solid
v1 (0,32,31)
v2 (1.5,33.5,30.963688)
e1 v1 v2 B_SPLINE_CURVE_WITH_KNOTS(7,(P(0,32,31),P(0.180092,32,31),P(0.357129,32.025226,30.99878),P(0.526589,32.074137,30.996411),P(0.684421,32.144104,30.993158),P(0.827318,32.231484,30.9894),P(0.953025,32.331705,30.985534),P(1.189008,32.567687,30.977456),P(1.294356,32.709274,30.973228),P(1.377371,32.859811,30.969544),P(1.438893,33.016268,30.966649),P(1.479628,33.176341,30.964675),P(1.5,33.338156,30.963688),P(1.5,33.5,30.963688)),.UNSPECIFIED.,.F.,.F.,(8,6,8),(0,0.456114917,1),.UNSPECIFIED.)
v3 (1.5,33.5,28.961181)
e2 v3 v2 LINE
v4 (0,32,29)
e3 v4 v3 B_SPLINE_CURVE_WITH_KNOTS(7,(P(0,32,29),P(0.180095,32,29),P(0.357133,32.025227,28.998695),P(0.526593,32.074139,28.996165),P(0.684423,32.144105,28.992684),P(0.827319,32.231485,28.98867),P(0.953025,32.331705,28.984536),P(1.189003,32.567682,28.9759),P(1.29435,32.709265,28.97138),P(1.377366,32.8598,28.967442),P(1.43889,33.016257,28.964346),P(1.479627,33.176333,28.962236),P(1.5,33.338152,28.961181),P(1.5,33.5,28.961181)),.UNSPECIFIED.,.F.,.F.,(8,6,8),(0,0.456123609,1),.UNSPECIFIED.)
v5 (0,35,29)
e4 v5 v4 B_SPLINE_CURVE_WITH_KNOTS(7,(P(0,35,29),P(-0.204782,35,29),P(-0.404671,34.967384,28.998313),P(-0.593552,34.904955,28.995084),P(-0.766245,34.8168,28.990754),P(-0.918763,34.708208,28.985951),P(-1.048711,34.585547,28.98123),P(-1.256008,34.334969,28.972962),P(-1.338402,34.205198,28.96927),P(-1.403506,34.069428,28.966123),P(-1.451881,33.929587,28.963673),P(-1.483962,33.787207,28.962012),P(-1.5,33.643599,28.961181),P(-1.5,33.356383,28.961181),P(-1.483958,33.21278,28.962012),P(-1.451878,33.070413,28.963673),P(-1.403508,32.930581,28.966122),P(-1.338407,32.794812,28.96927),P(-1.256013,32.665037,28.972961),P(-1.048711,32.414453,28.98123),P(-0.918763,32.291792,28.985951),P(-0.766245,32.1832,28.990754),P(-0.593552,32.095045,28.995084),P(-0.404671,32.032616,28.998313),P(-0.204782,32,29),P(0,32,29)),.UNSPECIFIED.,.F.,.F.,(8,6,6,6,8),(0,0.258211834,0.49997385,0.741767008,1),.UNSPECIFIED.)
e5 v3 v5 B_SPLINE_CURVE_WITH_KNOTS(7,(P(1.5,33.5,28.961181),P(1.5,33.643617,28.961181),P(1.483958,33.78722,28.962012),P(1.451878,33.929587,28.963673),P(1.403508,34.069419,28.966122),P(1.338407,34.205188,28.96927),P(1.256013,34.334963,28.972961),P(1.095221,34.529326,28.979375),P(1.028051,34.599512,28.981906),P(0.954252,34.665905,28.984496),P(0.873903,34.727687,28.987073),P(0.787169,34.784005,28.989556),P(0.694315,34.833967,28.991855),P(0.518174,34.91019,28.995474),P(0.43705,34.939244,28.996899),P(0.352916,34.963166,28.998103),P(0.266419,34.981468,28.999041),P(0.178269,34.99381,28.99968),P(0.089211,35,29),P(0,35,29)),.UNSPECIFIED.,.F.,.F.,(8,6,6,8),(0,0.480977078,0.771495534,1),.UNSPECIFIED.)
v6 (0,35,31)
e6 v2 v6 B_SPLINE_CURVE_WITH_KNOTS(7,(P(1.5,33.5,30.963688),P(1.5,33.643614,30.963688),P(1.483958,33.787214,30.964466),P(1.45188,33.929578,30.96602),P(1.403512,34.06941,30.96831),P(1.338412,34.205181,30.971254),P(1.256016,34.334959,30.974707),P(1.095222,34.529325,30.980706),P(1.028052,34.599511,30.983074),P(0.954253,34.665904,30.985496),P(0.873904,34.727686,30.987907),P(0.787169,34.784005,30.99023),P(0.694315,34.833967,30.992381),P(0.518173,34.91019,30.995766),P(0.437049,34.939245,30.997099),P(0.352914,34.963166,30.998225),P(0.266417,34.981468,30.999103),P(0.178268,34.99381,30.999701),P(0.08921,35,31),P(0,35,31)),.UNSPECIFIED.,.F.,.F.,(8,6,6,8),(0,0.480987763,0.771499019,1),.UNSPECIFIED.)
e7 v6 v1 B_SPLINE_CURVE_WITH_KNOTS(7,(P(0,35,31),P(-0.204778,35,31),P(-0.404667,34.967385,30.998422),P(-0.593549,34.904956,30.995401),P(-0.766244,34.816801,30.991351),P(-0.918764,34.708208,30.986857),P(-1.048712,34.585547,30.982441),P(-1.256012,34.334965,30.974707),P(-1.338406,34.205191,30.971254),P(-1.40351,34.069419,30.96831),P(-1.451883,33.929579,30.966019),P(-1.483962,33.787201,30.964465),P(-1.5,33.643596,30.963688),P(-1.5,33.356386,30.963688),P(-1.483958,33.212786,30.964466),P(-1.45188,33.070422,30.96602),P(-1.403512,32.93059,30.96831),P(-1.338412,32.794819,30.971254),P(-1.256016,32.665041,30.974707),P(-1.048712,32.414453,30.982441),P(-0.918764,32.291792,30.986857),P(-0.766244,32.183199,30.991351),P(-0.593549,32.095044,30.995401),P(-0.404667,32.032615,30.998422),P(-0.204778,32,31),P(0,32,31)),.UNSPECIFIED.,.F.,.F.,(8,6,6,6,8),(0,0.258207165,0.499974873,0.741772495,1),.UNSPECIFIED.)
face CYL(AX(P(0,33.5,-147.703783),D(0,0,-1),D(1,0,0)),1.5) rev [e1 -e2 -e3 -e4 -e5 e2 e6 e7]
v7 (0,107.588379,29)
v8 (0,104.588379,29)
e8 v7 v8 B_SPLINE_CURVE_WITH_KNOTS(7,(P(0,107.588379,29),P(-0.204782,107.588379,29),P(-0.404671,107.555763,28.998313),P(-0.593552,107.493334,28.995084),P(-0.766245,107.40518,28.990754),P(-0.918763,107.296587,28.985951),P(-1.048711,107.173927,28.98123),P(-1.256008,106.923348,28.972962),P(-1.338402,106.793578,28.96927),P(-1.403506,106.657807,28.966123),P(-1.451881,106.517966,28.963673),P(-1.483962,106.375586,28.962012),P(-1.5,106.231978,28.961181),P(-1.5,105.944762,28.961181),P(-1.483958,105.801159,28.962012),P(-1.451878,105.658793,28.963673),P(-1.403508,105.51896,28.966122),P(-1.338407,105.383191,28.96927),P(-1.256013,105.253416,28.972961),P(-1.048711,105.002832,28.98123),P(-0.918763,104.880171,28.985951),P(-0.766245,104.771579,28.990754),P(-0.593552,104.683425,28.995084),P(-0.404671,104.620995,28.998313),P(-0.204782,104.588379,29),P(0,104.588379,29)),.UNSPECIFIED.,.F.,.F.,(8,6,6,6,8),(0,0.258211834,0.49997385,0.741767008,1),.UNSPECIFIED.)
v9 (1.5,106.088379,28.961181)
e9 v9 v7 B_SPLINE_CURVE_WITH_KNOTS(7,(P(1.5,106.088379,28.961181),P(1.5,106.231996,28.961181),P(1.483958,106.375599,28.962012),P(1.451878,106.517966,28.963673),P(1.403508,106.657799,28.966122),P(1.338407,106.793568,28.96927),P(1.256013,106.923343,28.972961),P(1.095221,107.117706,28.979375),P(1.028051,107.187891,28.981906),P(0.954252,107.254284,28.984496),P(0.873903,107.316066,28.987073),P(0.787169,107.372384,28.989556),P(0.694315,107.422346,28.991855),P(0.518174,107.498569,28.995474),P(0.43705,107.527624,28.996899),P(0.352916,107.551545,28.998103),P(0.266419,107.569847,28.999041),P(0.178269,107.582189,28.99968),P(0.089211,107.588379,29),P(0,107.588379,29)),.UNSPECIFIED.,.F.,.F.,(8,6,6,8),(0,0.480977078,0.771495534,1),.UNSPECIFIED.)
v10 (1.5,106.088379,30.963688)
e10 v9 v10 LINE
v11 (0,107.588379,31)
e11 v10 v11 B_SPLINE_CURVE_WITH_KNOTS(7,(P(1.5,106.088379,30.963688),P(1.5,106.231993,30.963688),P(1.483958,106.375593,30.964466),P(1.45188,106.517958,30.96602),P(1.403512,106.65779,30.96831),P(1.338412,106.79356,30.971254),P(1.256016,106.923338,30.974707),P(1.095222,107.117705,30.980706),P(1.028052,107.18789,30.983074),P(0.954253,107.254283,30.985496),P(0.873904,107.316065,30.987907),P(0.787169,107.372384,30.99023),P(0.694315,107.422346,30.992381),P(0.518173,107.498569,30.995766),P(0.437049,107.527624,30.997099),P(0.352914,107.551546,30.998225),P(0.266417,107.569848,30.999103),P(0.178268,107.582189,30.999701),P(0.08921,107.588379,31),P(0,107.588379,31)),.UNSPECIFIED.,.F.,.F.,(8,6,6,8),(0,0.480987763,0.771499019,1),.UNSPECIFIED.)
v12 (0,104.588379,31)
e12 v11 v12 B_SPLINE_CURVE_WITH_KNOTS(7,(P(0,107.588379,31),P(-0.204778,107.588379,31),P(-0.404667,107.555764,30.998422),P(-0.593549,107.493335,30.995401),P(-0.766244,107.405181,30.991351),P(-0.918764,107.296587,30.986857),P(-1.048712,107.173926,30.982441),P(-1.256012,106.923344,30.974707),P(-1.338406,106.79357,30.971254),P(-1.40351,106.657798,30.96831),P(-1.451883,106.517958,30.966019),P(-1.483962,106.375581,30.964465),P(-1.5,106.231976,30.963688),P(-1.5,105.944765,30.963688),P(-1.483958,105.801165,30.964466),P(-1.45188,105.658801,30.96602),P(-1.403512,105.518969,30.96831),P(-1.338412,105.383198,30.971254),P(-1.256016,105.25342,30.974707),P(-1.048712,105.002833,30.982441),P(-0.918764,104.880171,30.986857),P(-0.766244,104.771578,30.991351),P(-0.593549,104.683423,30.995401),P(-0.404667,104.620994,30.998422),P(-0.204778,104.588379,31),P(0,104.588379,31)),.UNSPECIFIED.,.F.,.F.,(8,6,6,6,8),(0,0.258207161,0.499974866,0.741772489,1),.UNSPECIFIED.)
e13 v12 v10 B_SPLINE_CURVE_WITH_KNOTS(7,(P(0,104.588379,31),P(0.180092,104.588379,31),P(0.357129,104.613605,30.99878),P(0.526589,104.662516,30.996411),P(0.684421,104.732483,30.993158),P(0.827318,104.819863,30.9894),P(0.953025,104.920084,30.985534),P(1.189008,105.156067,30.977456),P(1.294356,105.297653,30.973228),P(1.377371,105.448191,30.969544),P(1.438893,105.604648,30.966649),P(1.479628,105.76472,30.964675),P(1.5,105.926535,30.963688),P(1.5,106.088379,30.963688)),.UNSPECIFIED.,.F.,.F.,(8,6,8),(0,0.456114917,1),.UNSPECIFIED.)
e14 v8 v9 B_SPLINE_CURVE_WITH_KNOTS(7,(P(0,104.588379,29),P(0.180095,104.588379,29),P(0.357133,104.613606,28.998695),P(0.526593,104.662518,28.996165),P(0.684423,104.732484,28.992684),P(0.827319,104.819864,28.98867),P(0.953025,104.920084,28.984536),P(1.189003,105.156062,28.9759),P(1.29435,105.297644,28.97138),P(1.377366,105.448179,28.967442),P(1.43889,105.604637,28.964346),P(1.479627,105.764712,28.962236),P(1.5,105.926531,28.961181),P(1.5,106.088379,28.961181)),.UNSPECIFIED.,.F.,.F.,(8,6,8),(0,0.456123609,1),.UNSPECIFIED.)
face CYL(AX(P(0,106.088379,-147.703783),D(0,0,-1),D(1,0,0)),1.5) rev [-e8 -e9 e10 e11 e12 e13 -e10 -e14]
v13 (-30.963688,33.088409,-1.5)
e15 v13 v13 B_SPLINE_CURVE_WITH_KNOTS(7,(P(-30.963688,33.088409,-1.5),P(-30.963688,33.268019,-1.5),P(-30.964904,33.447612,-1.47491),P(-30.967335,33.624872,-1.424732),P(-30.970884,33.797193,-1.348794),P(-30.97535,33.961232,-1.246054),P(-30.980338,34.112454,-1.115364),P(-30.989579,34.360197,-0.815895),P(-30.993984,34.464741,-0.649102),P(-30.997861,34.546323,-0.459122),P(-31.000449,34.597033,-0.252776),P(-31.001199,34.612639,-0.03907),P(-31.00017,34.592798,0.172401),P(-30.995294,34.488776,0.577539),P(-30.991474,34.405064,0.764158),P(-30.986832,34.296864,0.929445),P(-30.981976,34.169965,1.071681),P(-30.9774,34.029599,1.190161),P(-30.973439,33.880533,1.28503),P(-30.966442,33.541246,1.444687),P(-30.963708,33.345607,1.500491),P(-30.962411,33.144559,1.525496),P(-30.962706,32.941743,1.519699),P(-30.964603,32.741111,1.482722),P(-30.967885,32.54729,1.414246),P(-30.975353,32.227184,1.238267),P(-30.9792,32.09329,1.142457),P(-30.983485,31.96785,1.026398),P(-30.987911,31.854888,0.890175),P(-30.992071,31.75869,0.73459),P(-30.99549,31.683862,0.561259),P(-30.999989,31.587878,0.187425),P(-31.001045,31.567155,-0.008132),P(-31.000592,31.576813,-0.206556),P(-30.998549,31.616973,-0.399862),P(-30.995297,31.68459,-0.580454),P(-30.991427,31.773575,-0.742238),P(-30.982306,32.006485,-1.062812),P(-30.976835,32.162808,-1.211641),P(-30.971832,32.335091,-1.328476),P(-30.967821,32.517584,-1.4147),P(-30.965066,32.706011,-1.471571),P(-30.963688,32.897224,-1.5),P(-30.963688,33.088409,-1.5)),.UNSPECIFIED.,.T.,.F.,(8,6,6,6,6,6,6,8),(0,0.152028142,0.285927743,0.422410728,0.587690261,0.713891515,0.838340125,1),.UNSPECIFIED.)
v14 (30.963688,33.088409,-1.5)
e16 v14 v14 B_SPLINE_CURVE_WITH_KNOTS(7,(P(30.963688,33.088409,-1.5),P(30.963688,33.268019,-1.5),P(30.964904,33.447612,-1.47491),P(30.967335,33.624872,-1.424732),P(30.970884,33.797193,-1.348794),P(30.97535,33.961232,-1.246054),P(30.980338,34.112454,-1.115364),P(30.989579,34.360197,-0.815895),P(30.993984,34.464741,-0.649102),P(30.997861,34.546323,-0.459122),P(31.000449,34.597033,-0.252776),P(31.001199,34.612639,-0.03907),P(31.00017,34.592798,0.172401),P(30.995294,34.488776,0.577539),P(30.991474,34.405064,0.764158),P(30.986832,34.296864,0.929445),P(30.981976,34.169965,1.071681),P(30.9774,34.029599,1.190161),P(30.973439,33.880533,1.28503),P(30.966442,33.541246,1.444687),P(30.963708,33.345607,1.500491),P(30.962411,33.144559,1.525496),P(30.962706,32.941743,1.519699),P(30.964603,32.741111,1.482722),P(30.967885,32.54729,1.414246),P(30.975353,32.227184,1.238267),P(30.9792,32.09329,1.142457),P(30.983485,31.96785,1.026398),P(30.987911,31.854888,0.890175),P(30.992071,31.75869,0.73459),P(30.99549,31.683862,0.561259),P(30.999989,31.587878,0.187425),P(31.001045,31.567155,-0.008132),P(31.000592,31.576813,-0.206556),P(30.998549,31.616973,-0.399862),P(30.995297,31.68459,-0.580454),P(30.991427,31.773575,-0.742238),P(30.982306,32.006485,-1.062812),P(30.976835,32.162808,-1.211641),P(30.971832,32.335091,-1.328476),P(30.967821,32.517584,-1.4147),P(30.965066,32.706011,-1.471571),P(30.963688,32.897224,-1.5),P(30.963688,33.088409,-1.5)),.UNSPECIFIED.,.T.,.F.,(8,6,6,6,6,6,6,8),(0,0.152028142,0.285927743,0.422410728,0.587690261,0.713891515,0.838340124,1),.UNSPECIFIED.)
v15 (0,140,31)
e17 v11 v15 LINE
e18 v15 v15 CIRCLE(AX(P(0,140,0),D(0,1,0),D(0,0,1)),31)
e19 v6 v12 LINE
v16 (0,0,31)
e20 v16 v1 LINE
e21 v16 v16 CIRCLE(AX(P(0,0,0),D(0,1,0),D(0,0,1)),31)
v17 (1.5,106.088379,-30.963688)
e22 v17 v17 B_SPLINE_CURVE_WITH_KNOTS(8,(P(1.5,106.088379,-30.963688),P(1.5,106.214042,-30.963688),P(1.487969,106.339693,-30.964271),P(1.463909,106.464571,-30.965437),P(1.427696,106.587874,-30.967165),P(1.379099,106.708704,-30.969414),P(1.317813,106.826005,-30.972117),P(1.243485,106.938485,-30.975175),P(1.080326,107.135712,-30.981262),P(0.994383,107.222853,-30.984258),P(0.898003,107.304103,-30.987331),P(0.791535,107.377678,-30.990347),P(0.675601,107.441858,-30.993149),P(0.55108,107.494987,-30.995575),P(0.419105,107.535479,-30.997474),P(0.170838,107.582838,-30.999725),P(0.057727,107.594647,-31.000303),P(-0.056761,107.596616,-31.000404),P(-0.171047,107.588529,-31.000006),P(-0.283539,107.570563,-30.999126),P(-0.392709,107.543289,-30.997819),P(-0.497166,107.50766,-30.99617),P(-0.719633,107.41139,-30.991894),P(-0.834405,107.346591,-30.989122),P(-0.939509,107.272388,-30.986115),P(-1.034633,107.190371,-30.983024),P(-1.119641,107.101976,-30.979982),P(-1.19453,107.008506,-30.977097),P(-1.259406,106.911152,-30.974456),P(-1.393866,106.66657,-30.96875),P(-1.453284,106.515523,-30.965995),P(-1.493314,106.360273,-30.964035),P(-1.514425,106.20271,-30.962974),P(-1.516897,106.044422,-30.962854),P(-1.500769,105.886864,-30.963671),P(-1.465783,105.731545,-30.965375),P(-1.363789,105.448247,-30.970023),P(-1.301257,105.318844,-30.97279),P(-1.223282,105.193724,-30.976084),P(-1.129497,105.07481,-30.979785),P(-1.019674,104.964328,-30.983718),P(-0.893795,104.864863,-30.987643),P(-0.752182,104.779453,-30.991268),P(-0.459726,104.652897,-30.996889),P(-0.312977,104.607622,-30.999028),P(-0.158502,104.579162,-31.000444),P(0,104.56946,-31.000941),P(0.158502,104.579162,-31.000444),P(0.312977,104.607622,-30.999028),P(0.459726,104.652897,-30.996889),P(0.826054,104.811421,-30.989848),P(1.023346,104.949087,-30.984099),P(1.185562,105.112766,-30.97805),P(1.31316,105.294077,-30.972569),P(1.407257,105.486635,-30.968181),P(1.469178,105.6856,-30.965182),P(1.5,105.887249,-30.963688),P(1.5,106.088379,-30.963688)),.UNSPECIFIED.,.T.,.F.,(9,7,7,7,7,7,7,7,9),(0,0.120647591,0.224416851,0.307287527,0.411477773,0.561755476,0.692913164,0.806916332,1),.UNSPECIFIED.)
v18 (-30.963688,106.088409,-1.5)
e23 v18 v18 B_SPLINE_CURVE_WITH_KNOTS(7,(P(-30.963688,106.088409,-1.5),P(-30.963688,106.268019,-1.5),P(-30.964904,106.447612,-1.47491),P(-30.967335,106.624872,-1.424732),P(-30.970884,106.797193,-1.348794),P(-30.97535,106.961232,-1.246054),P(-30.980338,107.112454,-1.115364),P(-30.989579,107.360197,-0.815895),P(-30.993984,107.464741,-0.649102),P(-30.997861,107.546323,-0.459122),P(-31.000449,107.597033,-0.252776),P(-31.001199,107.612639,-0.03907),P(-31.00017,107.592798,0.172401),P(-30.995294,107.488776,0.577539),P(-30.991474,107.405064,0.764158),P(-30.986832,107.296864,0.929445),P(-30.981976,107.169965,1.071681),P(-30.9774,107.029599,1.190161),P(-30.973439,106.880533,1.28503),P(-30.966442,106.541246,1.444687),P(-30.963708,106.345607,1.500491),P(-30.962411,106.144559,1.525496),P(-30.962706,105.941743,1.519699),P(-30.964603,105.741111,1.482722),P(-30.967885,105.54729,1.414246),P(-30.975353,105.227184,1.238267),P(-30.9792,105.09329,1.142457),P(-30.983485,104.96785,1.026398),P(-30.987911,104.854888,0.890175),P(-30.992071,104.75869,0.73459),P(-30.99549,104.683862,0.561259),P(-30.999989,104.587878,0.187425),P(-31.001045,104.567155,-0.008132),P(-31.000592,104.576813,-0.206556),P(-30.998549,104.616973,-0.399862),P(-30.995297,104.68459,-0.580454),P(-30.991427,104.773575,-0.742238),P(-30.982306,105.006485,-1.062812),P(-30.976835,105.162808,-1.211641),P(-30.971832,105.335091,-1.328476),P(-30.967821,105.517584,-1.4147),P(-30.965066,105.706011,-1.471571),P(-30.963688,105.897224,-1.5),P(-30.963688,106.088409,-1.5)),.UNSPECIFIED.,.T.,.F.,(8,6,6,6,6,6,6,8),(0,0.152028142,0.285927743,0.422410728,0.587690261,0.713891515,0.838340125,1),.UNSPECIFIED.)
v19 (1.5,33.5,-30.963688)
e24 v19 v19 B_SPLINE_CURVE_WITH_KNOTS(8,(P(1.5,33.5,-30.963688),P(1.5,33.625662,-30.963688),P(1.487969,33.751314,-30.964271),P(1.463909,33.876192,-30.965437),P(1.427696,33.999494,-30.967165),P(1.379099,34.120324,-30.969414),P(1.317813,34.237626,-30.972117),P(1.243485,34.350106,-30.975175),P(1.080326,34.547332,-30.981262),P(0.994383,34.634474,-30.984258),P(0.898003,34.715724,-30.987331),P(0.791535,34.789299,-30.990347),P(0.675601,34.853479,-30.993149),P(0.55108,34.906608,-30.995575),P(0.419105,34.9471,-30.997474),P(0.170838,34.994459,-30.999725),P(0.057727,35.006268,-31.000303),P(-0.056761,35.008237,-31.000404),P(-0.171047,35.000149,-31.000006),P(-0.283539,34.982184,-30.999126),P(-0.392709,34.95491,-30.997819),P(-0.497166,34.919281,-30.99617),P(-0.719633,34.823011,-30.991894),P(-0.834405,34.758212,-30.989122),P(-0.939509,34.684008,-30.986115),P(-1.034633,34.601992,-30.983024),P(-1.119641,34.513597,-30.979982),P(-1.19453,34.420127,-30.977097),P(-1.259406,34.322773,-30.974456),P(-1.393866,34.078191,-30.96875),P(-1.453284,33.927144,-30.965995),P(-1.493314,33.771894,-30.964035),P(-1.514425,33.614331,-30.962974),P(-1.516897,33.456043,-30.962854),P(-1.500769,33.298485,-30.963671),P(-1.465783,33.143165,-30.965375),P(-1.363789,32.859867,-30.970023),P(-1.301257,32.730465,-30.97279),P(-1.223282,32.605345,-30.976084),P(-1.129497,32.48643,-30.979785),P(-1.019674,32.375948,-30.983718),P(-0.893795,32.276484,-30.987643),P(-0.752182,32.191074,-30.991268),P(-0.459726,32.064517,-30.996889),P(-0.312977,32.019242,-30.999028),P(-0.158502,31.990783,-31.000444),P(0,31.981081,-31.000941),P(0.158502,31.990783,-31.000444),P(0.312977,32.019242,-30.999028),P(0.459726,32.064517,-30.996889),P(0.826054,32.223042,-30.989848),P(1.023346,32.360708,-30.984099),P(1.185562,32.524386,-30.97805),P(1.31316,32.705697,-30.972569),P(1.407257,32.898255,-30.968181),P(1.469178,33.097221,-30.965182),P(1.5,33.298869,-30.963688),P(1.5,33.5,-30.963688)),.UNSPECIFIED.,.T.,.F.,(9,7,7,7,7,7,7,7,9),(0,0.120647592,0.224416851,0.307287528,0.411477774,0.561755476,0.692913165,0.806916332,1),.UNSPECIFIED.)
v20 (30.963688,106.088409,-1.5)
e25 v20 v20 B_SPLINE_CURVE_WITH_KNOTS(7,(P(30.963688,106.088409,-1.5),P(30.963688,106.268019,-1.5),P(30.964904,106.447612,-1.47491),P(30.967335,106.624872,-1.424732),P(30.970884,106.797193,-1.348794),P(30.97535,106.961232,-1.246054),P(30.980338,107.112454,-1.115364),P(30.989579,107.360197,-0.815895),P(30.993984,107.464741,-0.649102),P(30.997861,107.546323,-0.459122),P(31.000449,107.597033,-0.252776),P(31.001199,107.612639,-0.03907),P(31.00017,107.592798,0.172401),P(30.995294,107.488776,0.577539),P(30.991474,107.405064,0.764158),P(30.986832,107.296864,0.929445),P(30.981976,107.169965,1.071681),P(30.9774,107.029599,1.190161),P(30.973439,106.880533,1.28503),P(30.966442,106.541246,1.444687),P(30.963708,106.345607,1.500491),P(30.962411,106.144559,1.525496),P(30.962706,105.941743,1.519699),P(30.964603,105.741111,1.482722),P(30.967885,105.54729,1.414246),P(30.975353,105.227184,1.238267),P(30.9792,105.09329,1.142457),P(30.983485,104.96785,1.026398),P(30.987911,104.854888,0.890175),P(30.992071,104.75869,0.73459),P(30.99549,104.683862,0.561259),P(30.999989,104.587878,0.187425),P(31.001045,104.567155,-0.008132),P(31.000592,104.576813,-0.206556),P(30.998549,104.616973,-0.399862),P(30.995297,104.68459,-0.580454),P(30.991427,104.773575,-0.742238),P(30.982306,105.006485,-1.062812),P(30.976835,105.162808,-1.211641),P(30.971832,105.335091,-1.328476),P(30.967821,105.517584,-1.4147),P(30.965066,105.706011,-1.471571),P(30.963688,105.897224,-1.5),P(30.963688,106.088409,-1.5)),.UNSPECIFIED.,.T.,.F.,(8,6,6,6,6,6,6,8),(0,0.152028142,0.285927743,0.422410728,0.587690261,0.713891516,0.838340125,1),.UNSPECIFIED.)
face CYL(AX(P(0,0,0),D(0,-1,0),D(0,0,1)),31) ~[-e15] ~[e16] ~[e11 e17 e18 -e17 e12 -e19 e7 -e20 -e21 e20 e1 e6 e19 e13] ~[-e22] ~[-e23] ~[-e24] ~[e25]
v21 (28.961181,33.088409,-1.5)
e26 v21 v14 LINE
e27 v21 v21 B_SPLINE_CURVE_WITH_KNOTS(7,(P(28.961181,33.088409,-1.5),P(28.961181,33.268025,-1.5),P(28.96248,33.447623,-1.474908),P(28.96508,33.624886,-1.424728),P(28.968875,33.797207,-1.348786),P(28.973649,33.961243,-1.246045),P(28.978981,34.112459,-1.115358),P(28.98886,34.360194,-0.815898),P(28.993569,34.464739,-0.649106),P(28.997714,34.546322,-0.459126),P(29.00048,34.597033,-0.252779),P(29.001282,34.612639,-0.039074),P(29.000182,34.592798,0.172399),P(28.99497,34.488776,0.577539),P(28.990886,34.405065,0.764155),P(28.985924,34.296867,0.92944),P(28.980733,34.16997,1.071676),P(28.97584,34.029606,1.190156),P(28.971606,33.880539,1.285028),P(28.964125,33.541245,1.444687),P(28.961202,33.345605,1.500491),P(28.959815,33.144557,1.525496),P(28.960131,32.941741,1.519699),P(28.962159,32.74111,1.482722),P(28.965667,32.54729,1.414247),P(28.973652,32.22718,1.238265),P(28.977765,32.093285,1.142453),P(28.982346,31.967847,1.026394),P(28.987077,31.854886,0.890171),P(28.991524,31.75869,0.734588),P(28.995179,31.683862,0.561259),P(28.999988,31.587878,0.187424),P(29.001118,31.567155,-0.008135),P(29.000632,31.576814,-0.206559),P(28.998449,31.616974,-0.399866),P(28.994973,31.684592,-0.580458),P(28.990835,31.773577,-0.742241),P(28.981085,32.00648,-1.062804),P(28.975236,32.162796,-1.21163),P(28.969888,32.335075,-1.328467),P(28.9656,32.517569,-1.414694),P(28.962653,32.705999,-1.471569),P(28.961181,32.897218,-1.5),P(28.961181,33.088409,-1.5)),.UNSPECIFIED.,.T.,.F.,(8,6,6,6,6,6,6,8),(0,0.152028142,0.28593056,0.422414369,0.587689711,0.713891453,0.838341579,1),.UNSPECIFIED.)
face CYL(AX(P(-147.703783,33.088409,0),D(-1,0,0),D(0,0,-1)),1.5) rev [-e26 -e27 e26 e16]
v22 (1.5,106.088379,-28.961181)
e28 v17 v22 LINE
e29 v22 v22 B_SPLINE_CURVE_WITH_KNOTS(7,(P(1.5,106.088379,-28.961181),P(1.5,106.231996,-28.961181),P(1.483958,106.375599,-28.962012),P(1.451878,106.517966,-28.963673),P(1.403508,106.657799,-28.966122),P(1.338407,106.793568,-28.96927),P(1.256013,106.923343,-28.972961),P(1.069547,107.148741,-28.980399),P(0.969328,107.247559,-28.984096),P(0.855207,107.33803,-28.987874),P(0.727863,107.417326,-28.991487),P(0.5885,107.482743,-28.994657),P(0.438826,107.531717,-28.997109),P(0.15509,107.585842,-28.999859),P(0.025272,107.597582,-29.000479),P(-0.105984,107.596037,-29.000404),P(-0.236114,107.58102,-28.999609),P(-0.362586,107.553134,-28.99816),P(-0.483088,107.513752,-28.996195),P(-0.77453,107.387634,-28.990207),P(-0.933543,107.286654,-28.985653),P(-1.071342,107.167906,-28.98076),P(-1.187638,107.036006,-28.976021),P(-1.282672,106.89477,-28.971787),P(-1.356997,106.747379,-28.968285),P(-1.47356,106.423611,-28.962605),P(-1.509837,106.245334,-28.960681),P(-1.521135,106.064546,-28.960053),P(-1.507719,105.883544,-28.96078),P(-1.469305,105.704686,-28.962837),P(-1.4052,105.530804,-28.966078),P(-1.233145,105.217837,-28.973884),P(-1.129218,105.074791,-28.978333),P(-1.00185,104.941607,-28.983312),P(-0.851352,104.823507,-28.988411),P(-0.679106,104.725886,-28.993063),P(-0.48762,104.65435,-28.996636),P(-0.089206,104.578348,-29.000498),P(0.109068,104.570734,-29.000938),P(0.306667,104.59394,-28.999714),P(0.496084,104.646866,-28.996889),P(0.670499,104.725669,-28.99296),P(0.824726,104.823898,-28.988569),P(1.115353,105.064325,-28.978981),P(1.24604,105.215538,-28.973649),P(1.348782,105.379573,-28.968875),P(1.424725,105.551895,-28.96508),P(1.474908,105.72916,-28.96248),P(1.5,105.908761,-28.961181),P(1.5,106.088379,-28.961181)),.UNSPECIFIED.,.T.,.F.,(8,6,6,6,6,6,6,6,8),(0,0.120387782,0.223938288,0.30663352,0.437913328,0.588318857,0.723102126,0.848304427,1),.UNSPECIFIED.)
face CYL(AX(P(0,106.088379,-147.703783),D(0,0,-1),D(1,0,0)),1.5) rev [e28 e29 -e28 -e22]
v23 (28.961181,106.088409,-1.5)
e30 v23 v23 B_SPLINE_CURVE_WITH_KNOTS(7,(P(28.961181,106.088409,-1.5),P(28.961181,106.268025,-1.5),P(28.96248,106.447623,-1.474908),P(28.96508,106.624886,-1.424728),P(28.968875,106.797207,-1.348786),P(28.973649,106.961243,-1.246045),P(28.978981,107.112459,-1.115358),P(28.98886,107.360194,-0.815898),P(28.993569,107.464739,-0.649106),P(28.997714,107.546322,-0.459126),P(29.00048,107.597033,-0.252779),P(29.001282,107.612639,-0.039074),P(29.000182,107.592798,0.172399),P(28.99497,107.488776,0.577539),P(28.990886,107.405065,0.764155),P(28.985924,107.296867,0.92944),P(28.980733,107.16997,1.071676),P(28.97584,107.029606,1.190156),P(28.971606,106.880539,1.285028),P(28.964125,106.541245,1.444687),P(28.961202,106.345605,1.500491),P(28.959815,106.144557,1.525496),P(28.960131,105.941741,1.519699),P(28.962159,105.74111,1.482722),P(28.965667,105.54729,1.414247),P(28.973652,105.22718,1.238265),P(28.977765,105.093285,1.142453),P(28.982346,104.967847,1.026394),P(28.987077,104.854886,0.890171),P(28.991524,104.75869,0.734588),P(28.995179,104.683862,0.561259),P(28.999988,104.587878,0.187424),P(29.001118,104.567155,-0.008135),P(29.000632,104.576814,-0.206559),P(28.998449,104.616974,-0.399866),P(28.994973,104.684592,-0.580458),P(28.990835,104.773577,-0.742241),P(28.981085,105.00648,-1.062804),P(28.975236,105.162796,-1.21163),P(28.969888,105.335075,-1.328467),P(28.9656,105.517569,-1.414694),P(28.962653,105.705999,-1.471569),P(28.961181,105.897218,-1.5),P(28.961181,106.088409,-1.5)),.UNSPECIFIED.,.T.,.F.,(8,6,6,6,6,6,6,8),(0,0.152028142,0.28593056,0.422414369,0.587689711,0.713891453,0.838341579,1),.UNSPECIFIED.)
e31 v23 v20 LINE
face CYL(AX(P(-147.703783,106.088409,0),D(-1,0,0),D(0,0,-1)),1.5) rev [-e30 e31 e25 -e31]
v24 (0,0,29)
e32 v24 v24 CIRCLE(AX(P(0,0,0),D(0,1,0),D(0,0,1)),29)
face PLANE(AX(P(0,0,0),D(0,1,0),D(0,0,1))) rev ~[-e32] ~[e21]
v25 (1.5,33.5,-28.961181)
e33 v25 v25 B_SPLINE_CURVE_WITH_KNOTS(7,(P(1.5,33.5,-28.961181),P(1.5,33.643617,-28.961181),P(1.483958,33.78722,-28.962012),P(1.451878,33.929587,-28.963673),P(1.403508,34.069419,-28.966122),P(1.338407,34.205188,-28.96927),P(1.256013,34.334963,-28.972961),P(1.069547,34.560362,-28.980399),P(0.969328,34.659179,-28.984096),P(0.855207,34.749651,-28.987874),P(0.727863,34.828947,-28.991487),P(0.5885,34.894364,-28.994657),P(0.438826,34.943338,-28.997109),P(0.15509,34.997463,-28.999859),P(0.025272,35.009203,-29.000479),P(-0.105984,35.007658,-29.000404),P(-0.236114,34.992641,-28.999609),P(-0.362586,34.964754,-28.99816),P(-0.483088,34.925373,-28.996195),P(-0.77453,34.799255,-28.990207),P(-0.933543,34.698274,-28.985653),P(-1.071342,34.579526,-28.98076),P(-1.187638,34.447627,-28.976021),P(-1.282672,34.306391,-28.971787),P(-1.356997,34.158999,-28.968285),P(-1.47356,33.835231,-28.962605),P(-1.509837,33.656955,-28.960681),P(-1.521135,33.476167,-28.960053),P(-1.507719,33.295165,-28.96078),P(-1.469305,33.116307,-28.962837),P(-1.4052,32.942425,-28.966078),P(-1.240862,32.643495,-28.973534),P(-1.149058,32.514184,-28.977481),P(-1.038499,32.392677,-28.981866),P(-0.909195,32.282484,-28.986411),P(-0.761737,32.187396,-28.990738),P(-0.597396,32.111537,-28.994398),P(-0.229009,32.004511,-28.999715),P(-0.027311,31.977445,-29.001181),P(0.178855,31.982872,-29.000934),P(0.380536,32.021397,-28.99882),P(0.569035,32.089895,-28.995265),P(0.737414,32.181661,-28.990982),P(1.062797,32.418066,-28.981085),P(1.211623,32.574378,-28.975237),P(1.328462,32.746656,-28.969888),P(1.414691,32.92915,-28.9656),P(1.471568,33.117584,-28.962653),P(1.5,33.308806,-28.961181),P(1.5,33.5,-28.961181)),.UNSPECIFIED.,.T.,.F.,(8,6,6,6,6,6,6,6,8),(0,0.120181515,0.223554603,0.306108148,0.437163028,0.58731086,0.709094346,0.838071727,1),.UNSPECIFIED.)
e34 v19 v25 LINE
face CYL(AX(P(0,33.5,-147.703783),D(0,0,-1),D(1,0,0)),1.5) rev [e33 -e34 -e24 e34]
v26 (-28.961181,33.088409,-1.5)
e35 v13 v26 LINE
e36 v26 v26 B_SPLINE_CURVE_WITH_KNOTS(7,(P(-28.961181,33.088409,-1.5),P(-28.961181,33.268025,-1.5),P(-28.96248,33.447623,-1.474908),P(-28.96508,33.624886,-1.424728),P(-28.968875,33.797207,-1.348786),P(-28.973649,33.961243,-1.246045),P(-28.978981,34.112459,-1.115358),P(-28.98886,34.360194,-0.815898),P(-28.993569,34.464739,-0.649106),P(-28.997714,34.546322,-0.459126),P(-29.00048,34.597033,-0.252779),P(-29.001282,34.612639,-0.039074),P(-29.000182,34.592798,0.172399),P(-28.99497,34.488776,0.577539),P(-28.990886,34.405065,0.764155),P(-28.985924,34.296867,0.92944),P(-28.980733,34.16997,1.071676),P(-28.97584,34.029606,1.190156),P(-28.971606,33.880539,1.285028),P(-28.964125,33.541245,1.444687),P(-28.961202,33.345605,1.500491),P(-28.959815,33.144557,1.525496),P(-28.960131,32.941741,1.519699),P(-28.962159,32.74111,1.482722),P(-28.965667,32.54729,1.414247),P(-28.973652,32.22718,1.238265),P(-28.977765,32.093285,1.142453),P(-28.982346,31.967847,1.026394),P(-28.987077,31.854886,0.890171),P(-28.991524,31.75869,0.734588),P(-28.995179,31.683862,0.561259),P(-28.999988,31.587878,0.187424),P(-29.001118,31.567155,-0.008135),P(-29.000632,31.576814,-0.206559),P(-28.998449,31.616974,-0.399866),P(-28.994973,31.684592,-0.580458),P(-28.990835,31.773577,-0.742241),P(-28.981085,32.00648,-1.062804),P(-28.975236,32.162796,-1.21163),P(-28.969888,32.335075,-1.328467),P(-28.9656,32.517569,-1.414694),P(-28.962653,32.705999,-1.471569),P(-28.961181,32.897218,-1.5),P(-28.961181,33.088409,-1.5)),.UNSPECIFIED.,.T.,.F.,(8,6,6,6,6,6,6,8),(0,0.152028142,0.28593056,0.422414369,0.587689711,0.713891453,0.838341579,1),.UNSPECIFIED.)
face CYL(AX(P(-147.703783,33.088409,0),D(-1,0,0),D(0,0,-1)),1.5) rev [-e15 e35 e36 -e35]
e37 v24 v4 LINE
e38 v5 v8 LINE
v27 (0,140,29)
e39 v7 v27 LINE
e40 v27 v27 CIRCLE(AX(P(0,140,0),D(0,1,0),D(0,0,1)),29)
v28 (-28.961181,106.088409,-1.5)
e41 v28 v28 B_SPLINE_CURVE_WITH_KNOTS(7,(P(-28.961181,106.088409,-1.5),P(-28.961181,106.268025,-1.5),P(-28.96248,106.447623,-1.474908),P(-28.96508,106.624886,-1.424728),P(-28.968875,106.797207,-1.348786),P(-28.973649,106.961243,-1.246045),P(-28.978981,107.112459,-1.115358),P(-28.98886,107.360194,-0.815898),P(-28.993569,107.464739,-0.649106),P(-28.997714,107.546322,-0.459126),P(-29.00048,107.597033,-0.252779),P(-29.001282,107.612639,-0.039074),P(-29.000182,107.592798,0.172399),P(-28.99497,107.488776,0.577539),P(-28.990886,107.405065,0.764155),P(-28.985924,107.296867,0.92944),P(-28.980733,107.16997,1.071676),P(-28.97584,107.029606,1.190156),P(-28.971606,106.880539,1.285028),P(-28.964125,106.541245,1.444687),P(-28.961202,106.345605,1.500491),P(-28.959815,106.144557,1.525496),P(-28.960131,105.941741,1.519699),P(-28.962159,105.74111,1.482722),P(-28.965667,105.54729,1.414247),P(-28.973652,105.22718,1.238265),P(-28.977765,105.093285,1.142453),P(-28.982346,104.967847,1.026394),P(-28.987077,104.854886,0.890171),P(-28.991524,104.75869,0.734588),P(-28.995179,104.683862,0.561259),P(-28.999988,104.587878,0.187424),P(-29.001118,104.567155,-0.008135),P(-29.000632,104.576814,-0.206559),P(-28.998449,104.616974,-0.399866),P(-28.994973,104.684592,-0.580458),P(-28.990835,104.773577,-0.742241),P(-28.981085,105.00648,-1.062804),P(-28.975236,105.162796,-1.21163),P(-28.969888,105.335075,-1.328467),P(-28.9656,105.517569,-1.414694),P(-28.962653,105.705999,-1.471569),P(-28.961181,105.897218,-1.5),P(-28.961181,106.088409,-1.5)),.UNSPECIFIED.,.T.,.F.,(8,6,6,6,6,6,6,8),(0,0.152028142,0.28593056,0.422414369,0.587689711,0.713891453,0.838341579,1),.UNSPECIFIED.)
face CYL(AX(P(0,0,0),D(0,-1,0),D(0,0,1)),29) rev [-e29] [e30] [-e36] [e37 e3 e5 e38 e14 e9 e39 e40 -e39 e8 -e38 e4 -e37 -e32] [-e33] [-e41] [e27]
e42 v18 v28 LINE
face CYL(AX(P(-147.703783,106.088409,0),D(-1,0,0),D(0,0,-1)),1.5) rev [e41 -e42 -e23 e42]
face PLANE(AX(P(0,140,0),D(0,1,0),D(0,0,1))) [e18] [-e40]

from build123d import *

# Parameters (mm, degrees)
SKETCH1_R               = 31
SKETCH1_R_2             = 29
BOSS_EXTRUDE1_DEPTH     = 140
CUT_EXTRUDE1_DEPTH      = 147.703783182
CUT_EXTRUDE1_DEPTH_BACK = 147.703783182
SKETCH2_R               = 1.5
CUT_EXTRUDE2_DEPTH      = 147.703783323
CUT_EXTRUDE2_DEPTH_BACK = 147.703783323
SKETCH3_R               = 1.5


with BuildPart() as part:
    # Sketch1 → Boss-Extrude1 (new body)
    with BuildSketch(Plane(origin=(0, 0, 0), x_dir=(1, 0, 0), z_dir=(0, 1, 0))):
        with Locations(Location((0, 0, 0), (0, 0, 270))):
            Circle(SKETCH1_R)
        with Locations(Location((0, 0, 0), (0, 0, 270))):
            Circle(SKETCH1_R_2, mode=Mode.SUBTRACT)
    extrude(amount=BOSS_EXTRUDE1_DEPTH)

    # Sketch2 → Cut-Extrude1 (cut, two sides: drawn at the far end of the back side and taken through both)
    with BuildSketch(Plane(origin=(0, 0, 0), x_dir=(0, 0, -1), z_dir=(1, 0, 0)).offset(-CUT_EXTRUDE1_DEPTH_BACK)):
        with Locations((0, 33.088409151)):
            Circle(SKETCH2_R)
        with Locations((0, 106.088409151)):
            Circle(SKETCH2_R)
    extrude(amount=CUT_EXTRUDE1_DEPTH + CUT_EXTRUDE1_DEPTH_BACK, mode=Mode.SUBTRACT)

    # Sketch3 → Cut-Extrude2 (cut, two sides: drawn at the far end of the back side and taken through both)
    with BuildSketch(Plane.XY.offset(-CUT_EXTRUDE2_DEPTH_BACK)):
        with Locations((0, 106.088379232)):
            Circle(SKETCH3_R)
        with Locations((0, 33.5)):
            Circle(SKETCH3_R)
    extrude(amount=CUT_EXTRUDE2_DEPTH + CUT_EXTRUDE2_DEPTH_BACK, mode=Mode.SUBTRACT)


solid = part.part
